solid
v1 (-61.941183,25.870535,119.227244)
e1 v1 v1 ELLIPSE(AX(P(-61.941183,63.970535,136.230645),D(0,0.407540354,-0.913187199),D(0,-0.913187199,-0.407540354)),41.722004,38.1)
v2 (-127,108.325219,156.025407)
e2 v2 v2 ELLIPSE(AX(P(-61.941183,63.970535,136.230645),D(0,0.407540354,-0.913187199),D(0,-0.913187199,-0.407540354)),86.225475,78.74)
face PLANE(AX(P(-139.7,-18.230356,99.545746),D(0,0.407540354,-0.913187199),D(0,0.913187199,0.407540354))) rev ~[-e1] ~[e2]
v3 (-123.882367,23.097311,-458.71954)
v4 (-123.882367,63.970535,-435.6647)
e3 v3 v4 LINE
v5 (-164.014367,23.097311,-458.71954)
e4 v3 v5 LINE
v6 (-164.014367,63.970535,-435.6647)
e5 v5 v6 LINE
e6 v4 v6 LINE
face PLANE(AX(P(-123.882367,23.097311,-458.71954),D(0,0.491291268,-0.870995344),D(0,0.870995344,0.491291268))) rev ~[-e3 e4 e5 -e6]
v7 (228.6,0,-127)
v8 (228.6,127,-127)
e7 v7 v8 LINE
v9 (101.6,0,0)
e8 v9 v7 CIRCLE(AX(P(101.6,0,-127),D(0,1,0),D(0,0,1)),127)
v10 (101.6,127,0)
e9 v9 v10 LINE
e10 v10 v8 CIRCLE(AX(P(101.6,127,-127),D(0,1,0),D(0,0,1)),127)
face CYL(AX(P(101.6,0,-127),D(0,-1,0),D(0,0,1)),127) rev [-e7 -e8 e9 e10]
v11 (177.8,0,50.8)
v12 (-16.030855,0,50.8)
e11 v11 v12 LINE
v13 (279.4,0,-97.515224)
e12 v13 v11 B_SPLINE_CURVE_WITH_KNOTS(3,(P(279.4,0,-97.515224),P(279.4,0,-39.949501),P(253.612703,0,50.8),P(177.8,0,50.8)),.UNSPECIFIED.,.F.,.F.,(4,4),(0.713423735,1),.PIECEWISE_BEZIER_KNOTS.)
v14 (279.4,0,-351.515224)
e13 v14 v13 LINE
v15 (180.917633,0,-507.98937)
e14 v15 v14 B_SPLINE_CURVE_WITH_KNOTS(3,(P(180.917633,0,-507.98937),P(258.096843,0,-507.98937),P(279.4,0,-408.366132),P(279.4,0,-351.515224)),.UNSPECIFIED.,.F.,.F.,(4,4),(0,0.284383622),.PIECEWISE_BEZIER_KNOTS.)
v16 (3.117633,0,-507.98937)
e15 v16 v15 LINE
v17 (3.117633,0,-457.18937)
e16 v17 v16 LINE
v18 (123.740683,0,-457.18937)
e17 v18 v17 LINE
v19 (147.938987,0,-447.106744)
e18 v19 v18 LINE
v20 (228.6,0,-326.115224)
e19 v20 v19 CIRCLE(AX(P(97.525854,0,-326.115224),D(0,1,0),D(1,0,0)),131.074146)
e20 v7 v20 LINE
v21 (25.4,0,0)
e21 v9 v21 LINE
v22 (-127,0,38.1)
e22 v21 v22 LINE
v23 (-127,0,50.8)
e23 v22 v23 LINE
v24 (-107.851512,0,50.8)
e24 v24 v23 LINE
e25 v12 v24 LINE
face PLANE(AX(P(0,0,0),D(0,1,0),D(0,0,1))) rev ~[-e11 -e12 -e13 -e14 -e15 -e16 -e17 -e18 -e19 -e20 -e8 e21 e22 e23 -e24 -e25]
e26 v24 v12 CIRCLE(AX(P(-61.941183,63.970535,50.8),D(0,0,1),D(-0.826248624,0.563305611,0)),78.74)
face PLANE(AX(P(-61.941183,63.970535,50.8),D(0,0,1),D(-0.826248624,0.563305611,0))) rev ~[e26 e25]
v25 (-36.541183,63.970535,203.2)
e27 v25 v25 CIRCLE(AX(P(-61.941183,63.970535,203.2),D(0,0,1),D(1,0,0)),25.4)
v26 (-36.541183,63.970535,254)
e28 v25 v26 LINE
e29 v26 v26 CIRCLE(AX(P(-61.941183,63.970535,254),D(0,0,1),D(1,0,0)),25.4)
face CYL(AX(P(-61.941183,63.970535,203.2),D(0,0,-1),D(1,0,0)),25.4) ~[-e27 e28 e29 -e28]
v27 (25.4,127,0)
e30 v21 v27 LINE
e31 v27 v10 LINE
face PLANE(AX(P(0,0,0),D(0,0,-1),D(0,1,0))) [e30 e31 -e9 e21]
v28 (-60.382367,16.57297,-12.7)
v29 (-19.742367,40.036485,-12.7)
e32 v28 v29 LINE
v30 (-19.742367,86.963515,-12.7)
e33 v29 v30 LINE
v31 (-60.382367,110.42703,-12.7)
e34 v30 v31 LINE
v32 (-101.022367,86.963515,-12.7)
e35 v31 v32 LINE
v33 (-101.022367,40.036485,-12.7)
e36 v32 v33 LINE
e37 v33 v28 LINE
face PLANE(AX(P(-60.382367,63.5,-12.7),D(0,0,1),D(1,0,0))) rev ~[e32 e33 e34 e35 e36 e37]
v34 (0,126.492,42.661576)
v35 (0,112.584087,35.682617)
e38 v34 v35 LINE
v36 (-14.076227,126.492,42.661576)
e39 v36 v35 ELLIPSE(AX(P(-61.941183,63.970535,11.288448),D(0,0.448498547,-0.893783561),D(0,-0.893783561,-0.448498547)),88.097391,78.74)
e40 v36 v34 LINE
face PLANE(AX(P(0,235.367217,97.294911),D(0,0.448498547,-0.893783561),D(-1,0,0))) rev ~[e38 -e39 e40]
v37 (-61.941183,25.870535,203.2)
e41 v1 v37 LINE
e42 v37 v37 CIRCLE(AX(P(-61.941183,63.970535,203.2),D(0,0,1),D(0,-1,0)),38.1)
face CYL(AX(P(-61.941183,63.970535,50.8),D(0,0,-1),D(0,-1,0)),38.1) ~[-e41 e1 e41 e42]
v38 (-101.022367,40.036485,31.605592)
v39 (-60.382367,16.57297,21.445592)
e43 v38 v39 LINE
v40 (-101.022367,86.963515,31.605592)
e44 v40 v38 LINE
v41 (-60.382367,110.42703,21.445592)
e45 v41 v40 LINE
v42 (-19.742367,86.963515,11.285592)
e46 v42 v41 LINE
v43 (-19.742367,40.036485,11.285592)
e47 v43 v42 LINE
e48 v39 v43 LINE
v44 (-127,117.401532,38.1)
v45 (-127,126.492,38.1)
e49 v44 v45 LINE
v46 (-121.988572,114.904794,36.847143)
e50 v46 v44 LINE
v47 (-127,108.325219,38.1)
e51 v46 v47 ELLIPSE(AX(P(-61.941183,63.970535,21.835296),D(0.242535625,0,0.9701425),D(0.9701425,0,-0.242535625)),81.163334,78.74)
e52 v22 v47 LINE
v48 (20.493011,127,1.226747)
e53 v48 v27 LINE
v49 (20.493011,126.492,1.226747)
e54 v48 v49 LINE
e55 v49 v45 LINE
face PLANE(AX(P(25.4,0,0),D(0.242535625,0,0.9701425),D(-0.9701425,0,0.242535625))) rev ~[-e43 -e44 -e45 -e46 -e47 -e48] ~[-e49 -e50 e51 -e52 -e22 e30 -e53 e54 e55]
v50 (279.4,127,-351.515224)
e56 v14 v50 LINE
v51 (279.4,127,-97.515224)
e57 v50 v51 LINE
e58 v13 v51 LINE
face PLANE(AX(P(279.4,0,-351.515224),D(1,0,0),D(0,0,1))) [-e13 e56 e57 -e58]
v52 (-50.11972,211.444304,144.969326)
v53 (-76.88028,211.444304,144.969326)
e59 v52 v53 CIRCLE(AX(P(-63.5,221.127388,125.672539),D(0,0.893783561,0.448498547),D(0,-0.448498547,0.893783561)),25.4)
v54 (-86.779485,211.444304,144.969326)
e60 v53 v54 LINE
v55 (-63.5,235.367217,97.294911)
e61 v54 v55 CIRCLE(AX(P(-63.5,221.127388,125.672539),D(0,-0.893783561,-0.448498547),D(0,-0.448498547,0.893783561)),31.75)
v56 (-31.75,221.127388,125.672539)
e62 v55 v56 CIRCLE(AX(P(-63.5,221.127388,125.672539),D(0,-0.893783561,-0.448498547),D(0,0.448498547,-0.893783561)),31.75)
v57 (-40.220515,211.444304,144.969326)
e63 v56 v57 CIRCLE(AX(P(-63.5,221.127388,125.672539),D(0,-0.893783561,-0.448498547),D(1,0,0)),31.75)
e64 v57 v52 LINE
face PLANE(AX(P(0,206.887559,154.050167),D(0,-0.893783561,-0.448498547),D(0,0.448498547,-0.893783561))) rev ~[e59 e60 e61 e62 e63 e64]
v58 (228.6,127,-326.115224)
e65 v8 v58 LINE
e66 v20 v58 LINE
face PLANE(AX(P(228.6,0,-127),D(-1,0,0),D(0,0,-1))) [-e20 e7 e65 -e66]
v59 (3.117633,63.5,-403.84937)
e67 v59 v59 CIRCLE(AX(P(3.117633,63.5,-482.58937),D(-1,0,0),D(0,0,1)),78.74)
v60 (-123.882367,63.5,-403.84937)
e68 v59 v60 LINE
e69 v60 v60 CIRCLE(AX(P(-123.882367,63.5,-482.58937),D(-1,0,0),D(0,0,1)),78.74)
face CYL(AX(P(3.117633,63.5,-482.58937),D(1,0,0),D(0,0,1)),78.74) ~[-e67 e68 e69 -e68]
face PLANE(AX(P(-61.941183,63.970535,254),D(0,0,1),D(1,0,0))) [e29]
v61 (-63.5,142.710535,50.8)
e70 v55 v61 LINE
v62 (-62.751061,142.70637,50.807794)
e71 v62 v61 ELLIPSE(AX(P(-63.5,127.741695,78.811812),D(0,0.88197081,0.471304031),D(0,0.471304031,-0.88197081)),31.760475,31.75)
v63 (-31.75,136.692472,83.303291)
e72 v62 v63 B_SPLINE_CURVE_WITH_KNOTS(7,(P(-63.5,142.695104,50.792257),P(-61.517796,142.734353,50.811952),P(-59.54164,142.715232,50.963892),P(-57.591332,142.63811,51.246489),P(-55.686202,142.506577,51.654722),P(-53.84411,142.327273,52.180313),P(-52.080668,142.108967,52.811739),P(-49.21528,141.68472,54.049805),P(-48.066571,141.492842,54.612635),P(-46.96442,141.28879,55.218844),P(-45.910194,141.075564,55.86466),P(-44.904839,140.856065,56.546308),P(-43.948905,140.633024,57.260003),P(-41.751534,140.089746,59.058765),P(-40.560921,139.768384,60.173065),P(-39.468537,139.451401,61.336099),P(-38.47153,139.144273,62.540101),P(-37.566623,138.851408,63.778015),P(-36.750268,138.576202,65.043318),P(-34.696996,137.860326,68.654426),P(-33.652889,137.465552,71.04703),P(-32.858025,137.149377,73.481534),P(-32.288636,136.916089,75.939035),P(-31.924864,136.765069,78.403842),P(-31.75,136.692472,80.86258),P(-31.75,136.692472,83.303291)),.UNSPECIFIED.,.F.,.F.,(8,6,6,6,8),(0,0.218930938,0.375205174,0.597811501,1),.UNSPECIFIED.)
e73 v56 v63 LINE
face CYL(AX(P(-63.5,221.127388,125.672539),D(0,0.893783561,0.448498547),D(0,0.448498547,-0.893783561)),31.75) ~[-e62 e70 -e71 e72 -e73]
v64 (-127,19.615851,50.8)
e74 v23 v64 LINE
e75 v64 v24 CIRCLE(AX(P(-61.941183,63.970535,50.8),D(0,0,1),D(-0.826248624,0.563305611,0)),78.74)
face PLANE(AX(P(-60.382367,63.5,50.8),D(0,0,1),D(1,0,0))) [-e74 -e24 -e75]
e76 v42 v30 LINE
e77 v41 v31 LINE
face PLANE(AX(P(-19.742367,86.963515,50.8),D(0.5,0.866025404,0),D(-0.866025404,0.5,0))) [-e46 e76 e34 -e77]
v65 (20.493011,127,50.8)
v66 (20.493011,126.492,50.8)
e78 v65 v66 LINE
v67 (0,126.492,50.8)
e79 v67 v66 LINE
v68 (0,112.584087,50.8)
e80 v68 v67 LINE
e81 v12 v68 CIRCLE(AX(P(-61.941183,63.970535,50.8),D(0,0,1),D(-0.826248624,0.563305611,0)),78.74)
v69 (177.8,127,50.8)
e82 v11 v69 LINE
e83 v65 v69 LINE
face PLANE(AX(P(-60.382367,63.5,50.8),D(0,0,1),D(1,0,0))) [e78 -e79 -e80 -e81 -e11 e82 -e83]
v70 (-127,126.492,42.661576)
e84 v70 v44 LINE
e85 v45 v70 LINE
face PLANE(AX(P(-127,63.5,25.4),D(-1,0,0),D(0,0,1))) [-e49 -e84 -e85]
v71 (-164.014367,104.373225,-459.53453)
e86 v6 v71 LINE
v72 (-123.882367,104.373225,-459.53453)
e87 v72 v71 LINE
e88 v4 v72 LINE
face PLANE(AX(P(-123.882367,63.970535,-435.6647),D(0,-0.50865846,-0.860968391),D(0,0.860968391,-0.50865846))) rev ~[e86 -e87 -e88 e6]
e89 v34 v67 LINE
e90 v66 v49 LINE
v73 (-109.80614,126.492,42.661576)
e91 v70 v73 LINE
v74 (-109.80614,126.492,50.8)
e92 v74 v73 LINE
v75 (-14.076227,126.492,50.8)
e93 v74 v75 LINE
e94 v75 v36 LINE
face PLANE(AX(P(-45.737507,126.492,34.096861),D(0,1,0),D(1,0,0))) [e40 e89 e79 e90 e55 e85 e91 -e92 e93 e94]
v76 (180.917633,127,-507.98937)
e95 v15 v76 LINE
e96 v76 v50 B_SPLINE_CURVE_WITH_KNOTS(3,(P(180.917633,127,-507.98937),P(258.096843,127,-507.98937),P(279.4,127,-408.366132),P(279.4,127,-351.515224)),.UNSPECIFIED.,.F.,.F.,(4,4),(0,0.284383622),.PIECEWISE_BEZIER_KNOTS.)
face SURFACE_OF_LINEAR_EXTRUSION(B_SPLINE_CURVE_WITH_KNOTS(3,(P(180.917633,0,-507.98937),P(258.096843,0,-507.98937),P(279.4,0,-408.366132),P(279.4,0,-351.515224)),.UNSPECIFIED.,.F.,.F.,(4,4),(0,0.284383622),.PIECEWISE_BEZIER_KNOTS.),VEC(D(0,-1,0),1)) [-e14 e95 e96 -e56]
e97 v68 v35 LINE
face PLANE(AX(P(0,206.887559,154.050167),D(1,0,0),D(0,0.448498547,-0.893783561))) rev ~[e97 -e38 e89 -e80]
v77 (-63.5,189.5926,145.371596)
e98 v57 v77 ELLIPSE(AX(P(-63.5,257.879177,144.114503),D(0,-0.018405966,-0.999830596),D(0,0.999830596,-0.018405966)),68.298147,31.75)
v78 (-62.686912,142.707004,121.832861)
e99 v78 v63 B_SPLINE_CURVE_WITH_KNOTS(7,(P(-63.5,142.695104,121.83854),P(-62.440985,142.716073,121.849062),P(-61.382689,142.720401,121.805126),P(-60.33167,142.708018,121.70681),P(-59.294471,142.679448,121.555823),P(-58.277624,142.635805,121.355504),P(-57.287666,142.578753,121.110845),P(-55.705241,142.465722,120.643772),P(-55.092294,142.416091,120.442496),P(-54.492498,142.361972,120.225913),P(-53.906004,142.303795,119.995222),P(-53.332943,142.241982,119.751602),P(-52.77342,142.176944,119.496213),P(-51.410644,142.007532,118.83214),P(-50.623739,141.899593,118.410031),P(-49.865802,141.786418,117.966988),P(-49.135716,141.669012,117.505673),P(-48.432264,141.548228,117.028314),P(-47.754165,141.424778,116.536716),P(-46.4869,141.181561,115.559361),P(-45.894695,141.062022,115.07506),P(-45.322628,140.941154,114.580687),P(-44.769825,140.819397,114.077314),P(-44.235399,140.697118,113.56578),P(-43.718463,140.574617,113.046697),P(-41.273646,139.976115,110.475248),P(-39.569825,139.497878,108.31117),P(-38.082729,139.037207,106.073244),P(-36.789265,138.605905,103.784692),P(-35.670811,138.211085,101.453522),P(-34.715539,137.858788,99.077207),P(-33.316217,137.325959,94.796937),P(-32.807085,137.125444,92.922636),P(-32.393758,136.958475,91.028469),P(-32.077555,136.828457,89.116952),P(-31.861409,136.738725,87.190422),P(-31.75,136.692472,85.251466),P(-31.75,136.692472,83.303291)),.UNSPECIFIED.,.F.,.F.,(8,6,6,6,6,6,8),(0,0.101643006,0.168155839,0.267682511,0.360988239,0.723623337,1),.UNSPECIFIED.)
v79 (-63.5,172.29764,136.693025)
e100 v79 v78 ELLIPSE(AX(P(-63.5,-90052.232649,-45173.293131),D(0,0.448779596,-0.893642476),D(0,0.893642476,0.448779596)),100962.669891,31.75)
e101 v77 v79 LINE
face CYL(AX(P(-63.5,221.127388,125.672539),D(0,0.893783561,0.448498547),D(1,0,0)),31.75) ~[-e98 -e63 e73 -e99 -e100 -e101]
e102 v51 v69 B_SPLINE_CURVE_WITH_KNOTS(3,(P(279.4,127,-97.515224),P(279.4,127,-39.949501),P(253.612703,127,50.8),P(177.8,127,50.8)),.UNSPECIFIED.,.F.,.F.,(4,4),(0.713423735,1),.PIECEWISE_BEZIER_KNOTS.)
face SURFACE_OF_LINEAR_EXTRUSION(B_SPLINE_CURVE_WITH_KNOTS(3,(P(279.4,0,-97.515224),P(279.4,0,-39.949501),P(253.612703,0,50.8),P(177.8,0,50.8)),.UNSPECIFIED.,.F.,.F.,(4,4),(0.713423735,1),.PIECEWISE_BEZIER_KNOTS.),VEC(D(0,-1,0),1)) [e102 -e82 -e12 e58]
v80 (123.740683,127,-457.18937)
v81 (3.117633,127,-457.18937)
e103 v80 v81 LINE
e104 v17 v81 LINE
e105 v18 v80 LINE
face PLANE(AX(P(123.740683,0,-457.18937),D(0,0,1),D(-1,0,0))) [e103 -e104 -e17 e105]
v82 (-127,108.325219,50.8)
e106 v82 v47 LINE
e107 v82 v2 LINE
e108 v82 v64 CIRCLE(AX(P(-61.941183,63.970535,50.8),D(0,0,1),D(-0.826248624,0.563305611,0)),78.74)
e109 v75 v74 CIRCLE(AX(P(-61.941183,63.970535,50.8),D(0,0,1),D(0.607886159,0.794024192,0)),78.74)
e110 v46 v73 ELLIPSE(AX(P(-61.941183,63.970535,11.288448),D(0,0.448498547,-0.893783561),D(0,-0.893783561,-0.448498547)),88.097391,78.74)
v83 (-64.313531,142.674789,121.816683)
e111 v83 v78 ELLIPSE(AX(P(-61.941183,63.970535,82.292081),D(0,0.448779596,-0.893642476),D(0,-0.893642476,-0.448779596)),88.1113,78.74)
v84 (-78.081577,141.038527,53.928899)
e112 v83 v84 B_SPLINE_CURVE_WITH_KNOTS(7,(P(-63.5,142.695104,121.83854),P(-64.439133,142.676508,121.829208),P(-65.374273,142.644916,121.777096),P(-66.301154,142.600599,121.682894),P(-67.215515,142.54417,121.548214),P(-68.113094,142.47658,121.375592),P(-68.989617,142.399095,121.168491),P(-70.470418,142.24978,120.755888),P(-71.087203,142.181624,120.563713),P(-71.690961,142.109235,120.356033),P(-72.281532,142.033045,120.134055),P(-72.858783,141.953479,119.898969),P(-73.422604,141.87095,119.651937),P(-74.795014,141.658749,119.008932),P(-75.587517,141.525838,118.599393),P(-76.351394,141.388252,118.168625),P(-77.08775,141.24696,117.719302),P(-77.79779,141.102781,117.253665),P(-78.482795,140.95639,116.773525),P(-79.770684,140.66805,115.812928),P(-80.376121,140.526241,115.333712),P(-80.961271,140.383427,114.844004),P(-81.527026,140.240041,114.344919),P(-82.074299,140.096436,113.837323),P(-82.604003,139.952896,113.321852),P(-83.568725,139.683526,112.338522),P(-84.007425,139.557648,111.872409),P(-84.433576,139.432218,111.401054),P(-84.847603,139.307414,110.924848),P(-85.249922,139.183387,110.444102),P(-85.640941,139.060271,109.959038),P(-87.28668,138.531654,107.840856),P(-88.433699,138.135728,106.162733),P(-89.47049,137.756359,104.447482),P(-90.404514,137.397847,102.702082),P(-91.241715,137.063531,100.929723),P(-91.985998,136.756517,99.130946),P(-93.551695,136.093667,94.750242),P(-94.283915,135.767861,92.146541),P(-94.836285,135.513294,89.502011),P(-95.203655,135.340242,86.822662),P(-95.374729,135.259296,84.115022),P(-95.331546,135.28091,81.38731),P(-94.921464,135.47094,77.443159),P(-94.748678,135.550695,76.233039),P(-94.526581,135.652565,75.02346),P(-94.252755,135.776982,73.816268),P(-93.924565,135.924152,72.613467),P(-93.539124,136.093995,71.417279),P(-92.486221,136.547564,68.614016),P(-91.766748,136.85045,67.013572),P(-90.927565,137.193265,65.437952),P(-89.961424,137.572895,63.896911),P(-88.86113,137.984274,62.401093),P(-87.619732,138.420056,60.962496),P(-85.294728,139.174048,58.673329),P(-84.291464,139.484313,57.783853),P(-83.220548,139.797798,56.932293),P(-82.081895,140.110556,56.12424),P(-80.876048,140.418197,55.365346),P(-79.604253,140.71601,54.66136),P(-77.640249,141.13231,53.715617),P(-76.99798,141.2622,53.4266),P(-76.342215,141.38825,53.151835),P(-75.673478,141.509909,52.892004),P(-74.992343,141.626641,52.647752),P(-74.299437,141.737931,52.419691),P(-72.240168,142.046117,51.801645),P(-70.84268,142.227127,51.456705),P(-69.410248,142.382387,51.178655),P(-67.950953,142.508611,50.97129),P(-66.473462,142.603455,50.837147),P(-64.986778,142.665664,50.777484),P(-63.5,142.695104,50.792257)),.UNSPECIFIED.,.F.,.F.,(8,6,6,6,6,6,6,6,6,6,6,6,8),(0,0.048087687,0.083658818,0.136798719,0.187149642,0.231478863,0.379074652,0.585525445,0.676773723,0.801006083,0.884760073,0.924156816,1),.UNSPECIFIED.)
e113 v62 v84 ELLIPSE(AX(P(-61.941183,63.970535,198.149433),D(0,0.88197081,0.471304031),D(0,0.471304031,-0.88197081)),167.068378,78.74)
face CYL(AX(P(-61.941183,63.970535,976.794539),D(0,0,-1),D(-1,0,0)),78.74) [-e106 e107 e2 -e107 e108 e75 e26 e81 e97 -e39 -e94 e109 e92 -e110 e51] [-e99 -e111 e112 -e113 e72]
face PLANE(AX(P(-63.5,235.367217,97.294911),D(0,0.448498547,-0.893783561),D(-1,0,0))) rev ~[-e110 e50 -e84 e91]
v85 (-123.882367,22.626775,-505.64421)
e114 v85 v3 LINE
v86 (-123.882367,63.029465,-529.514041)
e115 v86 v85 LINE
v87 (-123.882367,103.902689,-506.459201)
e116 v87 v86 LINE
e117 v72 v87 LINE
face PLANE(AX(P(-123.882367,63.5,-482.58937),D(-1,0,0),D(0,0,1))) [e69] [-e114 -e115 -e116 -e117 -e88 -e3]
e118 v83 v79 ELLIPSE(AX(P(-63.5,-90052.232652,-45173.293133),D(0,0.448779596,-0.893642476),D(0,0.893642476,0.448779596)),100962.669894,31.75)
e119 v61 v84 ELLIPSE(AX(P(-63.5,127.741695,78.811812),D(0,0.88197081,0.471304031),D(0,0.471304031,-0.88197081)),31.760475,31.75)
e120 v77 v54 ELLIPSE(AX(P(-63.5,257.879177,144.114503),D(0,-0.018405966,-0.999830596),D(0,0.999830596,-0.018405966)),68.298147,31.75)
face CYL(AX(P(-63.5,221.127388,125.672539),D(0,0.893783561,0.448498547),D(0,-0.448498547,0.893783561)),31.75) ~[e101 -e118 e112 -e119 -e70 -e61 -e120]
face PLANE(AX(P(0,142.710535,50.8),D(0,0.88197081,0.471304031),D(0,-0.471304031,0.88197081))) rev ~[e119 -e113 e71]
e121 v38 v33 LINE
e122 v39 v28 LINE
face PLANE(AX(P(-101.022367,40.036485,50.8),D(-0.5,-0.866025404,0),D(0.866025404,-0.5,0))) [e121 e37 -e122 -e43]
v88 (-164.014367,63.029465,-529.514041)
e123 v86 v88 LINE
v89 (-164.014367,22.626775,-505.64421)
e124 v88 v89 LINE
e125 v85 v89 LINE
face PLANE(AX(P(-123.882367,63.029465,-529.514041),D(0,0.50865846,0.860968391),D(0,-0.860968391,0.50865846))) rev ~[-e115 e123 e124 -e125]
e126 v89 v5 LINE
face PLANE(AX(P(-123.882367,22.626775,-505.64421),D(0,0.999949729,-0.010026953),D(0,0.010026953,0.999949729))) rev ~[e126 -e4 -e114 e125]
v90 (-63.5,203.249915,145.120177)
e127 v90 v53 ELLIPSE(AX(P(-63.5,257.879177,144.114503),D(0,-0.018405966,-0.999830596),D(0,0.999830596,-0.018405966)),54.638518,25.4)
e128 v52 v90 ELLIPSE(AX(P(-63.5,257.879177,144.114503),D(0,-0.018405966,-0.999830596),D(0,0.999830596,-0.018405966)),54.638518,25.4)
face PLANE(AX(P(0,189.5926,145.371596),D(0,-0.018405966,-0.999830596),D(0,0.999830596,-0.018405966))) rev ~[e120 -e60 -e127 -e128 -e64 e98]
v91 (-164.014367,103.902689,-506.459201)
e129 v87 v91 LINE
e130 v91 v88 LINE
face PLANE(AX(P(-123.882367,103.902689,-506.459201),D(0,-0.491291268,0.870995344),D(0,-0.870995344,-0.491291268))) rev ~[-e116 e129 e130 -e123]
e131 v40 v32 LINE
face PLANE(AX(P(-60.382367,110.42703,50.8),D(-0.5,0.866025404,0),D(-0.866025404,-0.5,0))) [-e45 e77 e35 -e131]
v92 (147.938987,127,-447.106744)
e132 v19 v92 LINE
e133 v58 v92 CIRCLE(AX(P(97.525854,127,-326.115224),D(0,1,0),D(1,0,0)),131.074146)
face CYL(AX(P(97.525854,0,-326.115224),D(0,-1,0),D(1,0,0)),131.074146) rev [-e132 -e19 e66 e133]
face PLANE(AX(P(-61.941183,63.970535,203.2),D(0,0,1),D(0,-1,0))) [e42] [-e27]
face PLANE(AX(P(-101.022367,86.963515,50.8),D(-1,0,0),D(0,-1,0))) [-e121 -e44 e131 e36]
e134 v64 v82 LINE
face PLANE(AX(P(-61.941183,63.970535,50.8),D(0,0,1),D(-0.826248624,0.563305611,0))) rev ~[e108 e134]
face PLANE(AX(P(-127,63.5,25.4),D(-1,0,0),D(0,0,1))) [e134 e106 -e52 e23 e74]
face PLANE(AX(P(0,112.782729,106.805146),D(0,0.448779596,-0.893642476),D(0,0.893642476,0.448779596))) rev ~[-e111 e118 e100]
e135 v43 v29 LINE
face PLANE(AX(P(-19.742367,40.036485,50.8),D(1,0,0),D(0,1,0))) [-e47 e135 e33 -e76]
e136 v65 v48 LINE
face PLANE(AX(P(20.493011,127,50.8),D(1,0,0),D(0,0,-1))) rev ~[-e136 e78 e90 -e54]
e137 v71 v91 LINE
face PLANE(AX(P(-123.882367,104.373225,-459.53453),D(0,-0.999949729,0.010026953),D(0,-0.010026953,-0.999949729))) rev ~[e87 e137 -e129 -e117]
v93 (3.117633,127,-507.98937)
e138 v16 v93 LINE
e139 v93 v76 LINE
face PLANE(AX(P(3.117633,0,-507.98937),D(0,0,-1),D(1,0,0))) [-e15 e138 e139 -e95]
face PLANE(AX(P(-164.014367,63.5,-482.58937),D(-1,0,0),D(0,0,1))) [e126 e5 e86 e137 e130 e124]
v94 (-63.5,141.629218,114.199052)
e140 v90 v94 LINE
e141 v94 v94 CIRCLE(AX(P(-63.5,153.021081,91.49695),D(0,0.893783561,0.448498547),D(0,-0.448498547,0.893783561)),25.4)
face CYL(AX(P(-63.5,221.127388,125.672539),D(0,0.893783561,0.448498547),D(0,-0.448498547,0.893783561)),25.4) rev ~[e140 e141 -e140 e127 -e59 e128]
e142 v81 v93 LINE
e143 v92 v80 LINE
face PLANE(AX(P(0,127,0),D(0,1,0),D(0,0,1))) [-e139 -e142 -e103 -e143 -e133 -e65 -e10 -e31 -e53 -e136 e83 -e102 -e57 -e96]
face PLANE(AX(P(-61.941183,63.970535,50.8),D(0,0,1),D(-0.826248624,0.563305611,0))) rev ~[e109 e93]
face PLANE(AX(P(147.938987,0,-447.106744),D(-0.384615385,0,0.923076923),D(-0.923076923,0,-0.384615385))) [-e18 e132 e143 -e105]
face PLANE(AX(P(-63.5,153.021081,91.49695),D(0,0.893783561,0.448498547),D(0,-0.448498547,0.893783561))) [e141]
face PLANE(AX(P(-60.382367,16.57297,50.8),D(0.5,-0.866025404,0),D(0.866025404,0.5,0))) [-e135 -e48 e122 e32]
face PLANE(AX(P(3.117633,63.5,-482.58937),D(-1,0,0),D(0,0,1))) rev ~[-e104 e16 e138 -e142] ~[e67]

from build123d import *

# Parameters (mm, degrees)
BOSS_EXTRUDE1_DEPTH             = 127
SKETCH2_R                       = 78.74
BOSS_EXTRUDE2_DEPTH             = 127
BOSS_EXTRUDE3_DEPTH             = 40.132
SKETCH4_W                       = 50.8
SKETCH4_H                       = 127
BOSS_EXTRUDE4_DEPTH             = 127
CUT_EXTRUDE1_DEPTH              = 643.951973118
BOSS_EXTRUDE6_DEPTH             = 63.5
BOSS_EXTRUDE7_DEPTH             = 0.254
SKETCH10_R                      = 78.74
BOSS_EXTRUDE8_DEPTH             = 127
CUT_EXTRUDE4_DEPTH              = 1270
SKETCH12_R                      = 38.1
BOSS_EXTRUDE9_DEPTH             = 152.4
SKETCH13_R                      = 25.4
BOSS_EXTRUDE10_DEPTH            = 50.8
BOSS_EXTRUDE11_DEPTH            = 127
CUT_EXTRUDE11_REACH             = 771.882
CUT_EXTRUDE11_END_RADIUS        = 78.74
CUT_EXTRUDE11_DIRECTION_2_DEPTH = 770.882300623
SKETCH22_R                      = 25.4
CUT_EXTRUDE12_DEPTH             = 76.2
CUT_EXTRUDE13_DEPTH             = 670.740807287
CUT_EXTRUDE16_DEPTH             = 0.508


with BuildPart() as part:
    # Sketch1 → Boss-Extrude1 (new body)
    with BuildSketch(Plane(origin=(0, 0, 0), x_dir=(1, 0, 0), z_dir=(0, 1, 0))):
        with BuildLine():
            Line((0, 0), (76.2, 0))
            Line((76.2, 0), (101.6, 0))
            ThreePointArc((101.6, 0), (191.402561211, 37.197438789), (228.6, 127))
            Line((228.6, 127), (228.6, 326.115224022))
            ThreePointArc((228.6, 326.115224022), (206.586135695, 398.822078741), (147.938986841, 447.106743761))
            Line((147.938986841, 447.106743761), (123.740682893, 457.189370406))
            Line((123.740682893, 457.189370406), (3.117633302, 457.189370406))
            Line((3.117633302, 457.189370406), (3.117633302, 507.989370406))
            Line((3.117633302, 507.989370406), (130.117633302, 507.989370406))
            Line((130.117633302, 507.989370406), (180.917633302, 507.989370406))
            add(Edge.make_bspline(
                [(180.917633302, 507.989370406), (258.096842752, 507.989370406), (279.4, 408.366132146), (279.4, 351.515224022)],
                knots=[0, 0, 0, 0, 0.284383622, 0.284383622, 0.284383622, 0.284383622], degree=3))
            Line((279.4, 351.515224022), (279.4, 97.515224022))
            add(Edge.make_bspline(
                [(279.4, 97.515224022), (279.4, 39.949501281), (253.612703292, -50.8), (177.8, -50.8)],
                knots=[0.713423735, 0.713423735, 0.713423735, 0.713423735, 1, 1, 1, 1], degree=3))
            Line((177.8, -50.8), (127, -50.8))
            Line((127, -50.8), (0, -50.8))
            Line((0, -50.8), (0, 0))
        make_face()
    extrude(amount=BOSS_EXTRUDE1_DEPTH)

    # Sketch2 → Boss-Extrude2 (add)
    with BuildSketch(Plane.ZY.offset(-3.117633302)):
        with Locations((-482.589370406, 63.5)):
            Circle(SKETCH2_R)
    extrude(amount=BOSS_EXTRUDE2_DEPTH)

    # Sketch3 → Boss-Extrude3 (add)
    with BuildSketch(Plane.ZY.offset(123.882366698)):
        Polygon((-435.664699602, 63.970535124), (-459.534530374, 104.373224542), (-506.459201178, 103.902689418), (-529.514041209, 63.029464876), (-505.644210437, 22.626775458), (-458.719539633, 23.097310582), align=None)
    extrude(amount=BOSS_EXTRUDE3_DEPTH)

    # Sketch4 → Boss-Extrude4 (add)
    with BuildSketch(Plane.ZY):
        with Locations((25.4, 63.5)):
            Rectangle(SKETCH4_W, SKETCH4_H)
    extrude(amount=BOSS_EXTRUDE4_DEPTH)

    # Sketch5 → Cut-Extrude1 (cut, through all)
    with BuildSketch(Plane(origin=(0, 0, 0), x_dir=(-1, 0, 0), z_dir=(0, -1, 0))):
        Polygon((127, -38.1), (127, 0), (-25.4, 0), align=None)
    extrude(amount=-CUT_EXTRUDE1_DEPTH, mode=Mode.SUBTRACT)

    # Sketch7 → Boss-Extrude6 (add)
    with BuildSketch(Plane.XY.offset(50.8)):
        Polygon((-60.382366698, 110.42702988), (-101.022366698, 86.96351494), (-101.022366698, 40.03648506), (-60.382366698, 16.57297012), (-19.742366698, 40.03648506), (-19.742366698, 86.96351494), align=None)
    extrude(amount=-BOSS_EXTRUDE6_DEPTH)

    # Sketch9 → Boss-Extrude7 (add)
    with BuildSketch(Plane.XY.offset(50.8)):
        Polygon((-61.941183349, 110.42702988), (-102.581183349, 86.96351494), (-102.581183349, 40.03648506), (-61.941183349, 16.57297012), (-21.301183349, 40.03648506), (-21.301183349, 86.96351494), align=None)
    extrude(amount=BOSS_EXTRUDE7_DEPTH)

    # Sketch10 → Boss-Extrude8 (add)
    with BuildSketch(Plane.XY.offset(50.8)):
        with Locations(Location((-61.941183349, 63.970535124, 0), (0, 0, 145.715287544))):
            Circle(SKETCH10_R)
    extrude(amount=BOSS_EXTRUDE8_DEPTH)

    # Sketch11 → Cut-Extrude4 (cut, symmetric)
    with BuildSketch(Plane(origin=(-139.7, 0, 0), x_dir=(0, 0, -1), z_dir=(1, 0, 0))):
        Polygon((-99.545745502, -18.230355882), (-194.983113001, 195.61885318), (-201.145745502, 206.905410628), (-201.145745502, -18.230355882), align=None)
    extrude(amount=CUT_EXTRUDE4_DEPTH, both=True, mode=Mode.SUBTRACT)

    # Sketch12 → Boss-Extrude9 (add)
    with BuildSketch(Plane.XY.offset(50.8)):
        with Locations(Location((-61.941183349, 63.970535124, 0), (0, 0, 270))):
            Circle(SKETCH12_R)
    extrude(amount=BOSS_EXTRUDE9_DEPTH)

    # Sketch13 → Boss-Extrude10 (add)
    with BuildSketch(Plane.XY.offset(203.2)):
        with Locations((-61.941183349, 63.970535124)):
            Circle(SKETCH13_R)
    extrude(amount=BOSS_EXTRUDE10_DEPTH)

    # Sketch18 → Boss-Extrude11 (add)
    with BuildSketch(Plane(origin=(0, 0, 0), x_dir=(0, 0, -1), z_dir=(1, 0, 0))):
        Polygon((-97.294911039, 235.367216838), (-50.8, 142.710535124), (-106.805146459, 112.782729155), (-136.693024963, 172.297640285), (-154.050167135, 206.887559091), align=None)
    extrude(amount=-BOSS_EXTRUDE11_DEPTH)

    # Cut-Extrude11: up to this cylinder (the profile starts outside it)
    cut_extrude11_end = Plane(origin=(-61.941183349, 63.970535124, 125.672539), z_dir=(0, 0, -1)) * Cylinder(CUT_EXTRUDE11_END_RADIUS, 1702.244, mode=Mode.PRIVATE)
    # Sketch21 → Cut-Extrude11 (cut, up to the surface)
    with BuildSketch(Plane(origin=(0, 227.024577499, 113.920413931), x_dir=(1, 0, 0), z_dir=(0, 0.8937835605799322, 0.44849854719615173)), mode=Mode.PRIVATE) as cut_extrude11_sk1:
        with BuildLine():
            Line((-63.5, -44.898737205), (0, -44.898737205))
            Line((0, -44.898737205), (0, 18.601262795))
            Line((0, 18.601262795), (-63.5, 18.601262795))
            ThreePointArc((-63.5, 18.601262795), (-41.049359697, 9.301903098), (-31.75, -13.148737205))
            ThreePointArc((-31.75, -13.148737205), (-41.049359697, -35.599377508), (-63.5, -44.898737205))
        make_face()
    cut_extrude11_tool1 = extrude(cut_extrude11_sk1.sketch, amount=-CUT_EXTRUDE11_REACH, mode=Mode.PRIVATE) - cut_extrude11_end
    add(cut_extrude11_tool1.solids().sort_by_distance((-19.932911, 221.127388, 125.672539))[0], mode=Mode.SUBTRACT)
    # Sketch21 → Cut-Extrude11 (cut, up to the surface)
    with BuildSketch(Plane(origin=(0, 227.024577499, 113.920413931), x_dir=(1, 0, 0), z_dir=(0, 0.8937835605799322, 0.44849854719615173)), mode=Mode.PRIVATE) as cut_extrude11_sk2:
        with BuildLine():
            Line((-127, -44.898737205), (-63.5, -44.898737205))
            ThreePointArc((-63.5, -44.898737205), (-95.25, -13.148737205), (-63.5, 18.601262795))
            Line((-63.5, 18.601262795), (-127, 18.601262795))
            Line((-127, 18.601262795), (-127, -44.898737205))
        make_face()
    cut_extrude11_tool2 = extrude(cut_extrude11_sk2.sketch, amount=-CUT_EXTRUDE11_REACH, mode=Mode.PRIVATE) - cut_extrude11_end
    add(cut_extrude11_tool2.solids().sort_by_distance((-107.067089, 221.127388, 125.672539))[0], mode=Mode.SUBTRACT)

    # Sketch21 → Cut-Extrude11 direction 2 (cut)
    with BuildSketch(Plane(origin=(0, 227.024577499, 113.920413931), x_dir=(1, 0, 0), z_dir=(0, 0.8937835605799322, 0.44849854719615173))):
        with BuildLine():
            Line((-63.5, -44.898737205), (0, -44.898737205))
            Line((0, -44.898737205), (0, 18.601262795))
            Line((0, 18.601262795), (-63.5, 18.601262795))
            ThreePointArc((-63.5, 18.601262795), (-41.049359697, 9.301903098), (-31.75, -13.148737205))
            ThreePointArc((-31.75, -13.148737205), (-41.049359697, -35.599377508), (-63.5, -44.898737205))
        make_face()
        with BuildLine():
            Line((-127, -44.898737205), (-63.5, -44.898737205))
            ThreePointArc((-63.5, -44.898737205), (-95.25, -13.148737205), (-63.5, 18.601262795))
            Line((-63.5, 18.601262795), (-127, 18.601262795))
            Line((-127, 18.601262795), (-127, -44.898737205))
        make_face()
    extrude(amount=CUT_EXTRUDE11_DIRECTION_2_DEPTH, mode=Mode.SUBTRACT)

    # Sketch22 → Cut-Extrude12 (cut)
    with BuildSketch(Plane(origin=(0, 227.024577499, 113.920413931), x_dir=(1, 0, 0), z_dir=(0, 0.8937835605799322, 0.44849854719615173))):
        with Locations(Location((-63.5, -13.148737205, 0), (0, 0, 270))):
            Circle(SKETCH22_R)
    extrude(amount=-CUT_EXTRUDE12_DEPTH, mode=Mode.SUBTRACT)

    # Sketch23 → Cut-Extrude13 (cut, through all)
    with BuildSketch(Plane(origin=(0, 0, 0), x_dir=(0, 0, -1), z_dir=(1, 0, 0))):
        Polygon((-154.050167135, 206.887559091), (-145.371596049, 189.592599687), (-144.96932616, 211.444304331), align=None)
    extrude(amount=-CUT_EXTRUDE13_DEPTH, mode=Mode.SUBTRACT)

    # Sketch24 → Cut-Extrude16 (cut)
    with BuildSketch(Plane(origin=(0, 127, 0), x_dir=(1, 0, 0), z_dir=(0, 1, 0))):
        Polygon((20.493010652, -50.8), (20.493010652, -1.226747337), (-127, -38.1), (-127, -50.8), align=None)
    extrude(amount=-CUT_EXTRUDE16_DEPTH, mode=Mode.SUBTRACT)


solid = part.part
